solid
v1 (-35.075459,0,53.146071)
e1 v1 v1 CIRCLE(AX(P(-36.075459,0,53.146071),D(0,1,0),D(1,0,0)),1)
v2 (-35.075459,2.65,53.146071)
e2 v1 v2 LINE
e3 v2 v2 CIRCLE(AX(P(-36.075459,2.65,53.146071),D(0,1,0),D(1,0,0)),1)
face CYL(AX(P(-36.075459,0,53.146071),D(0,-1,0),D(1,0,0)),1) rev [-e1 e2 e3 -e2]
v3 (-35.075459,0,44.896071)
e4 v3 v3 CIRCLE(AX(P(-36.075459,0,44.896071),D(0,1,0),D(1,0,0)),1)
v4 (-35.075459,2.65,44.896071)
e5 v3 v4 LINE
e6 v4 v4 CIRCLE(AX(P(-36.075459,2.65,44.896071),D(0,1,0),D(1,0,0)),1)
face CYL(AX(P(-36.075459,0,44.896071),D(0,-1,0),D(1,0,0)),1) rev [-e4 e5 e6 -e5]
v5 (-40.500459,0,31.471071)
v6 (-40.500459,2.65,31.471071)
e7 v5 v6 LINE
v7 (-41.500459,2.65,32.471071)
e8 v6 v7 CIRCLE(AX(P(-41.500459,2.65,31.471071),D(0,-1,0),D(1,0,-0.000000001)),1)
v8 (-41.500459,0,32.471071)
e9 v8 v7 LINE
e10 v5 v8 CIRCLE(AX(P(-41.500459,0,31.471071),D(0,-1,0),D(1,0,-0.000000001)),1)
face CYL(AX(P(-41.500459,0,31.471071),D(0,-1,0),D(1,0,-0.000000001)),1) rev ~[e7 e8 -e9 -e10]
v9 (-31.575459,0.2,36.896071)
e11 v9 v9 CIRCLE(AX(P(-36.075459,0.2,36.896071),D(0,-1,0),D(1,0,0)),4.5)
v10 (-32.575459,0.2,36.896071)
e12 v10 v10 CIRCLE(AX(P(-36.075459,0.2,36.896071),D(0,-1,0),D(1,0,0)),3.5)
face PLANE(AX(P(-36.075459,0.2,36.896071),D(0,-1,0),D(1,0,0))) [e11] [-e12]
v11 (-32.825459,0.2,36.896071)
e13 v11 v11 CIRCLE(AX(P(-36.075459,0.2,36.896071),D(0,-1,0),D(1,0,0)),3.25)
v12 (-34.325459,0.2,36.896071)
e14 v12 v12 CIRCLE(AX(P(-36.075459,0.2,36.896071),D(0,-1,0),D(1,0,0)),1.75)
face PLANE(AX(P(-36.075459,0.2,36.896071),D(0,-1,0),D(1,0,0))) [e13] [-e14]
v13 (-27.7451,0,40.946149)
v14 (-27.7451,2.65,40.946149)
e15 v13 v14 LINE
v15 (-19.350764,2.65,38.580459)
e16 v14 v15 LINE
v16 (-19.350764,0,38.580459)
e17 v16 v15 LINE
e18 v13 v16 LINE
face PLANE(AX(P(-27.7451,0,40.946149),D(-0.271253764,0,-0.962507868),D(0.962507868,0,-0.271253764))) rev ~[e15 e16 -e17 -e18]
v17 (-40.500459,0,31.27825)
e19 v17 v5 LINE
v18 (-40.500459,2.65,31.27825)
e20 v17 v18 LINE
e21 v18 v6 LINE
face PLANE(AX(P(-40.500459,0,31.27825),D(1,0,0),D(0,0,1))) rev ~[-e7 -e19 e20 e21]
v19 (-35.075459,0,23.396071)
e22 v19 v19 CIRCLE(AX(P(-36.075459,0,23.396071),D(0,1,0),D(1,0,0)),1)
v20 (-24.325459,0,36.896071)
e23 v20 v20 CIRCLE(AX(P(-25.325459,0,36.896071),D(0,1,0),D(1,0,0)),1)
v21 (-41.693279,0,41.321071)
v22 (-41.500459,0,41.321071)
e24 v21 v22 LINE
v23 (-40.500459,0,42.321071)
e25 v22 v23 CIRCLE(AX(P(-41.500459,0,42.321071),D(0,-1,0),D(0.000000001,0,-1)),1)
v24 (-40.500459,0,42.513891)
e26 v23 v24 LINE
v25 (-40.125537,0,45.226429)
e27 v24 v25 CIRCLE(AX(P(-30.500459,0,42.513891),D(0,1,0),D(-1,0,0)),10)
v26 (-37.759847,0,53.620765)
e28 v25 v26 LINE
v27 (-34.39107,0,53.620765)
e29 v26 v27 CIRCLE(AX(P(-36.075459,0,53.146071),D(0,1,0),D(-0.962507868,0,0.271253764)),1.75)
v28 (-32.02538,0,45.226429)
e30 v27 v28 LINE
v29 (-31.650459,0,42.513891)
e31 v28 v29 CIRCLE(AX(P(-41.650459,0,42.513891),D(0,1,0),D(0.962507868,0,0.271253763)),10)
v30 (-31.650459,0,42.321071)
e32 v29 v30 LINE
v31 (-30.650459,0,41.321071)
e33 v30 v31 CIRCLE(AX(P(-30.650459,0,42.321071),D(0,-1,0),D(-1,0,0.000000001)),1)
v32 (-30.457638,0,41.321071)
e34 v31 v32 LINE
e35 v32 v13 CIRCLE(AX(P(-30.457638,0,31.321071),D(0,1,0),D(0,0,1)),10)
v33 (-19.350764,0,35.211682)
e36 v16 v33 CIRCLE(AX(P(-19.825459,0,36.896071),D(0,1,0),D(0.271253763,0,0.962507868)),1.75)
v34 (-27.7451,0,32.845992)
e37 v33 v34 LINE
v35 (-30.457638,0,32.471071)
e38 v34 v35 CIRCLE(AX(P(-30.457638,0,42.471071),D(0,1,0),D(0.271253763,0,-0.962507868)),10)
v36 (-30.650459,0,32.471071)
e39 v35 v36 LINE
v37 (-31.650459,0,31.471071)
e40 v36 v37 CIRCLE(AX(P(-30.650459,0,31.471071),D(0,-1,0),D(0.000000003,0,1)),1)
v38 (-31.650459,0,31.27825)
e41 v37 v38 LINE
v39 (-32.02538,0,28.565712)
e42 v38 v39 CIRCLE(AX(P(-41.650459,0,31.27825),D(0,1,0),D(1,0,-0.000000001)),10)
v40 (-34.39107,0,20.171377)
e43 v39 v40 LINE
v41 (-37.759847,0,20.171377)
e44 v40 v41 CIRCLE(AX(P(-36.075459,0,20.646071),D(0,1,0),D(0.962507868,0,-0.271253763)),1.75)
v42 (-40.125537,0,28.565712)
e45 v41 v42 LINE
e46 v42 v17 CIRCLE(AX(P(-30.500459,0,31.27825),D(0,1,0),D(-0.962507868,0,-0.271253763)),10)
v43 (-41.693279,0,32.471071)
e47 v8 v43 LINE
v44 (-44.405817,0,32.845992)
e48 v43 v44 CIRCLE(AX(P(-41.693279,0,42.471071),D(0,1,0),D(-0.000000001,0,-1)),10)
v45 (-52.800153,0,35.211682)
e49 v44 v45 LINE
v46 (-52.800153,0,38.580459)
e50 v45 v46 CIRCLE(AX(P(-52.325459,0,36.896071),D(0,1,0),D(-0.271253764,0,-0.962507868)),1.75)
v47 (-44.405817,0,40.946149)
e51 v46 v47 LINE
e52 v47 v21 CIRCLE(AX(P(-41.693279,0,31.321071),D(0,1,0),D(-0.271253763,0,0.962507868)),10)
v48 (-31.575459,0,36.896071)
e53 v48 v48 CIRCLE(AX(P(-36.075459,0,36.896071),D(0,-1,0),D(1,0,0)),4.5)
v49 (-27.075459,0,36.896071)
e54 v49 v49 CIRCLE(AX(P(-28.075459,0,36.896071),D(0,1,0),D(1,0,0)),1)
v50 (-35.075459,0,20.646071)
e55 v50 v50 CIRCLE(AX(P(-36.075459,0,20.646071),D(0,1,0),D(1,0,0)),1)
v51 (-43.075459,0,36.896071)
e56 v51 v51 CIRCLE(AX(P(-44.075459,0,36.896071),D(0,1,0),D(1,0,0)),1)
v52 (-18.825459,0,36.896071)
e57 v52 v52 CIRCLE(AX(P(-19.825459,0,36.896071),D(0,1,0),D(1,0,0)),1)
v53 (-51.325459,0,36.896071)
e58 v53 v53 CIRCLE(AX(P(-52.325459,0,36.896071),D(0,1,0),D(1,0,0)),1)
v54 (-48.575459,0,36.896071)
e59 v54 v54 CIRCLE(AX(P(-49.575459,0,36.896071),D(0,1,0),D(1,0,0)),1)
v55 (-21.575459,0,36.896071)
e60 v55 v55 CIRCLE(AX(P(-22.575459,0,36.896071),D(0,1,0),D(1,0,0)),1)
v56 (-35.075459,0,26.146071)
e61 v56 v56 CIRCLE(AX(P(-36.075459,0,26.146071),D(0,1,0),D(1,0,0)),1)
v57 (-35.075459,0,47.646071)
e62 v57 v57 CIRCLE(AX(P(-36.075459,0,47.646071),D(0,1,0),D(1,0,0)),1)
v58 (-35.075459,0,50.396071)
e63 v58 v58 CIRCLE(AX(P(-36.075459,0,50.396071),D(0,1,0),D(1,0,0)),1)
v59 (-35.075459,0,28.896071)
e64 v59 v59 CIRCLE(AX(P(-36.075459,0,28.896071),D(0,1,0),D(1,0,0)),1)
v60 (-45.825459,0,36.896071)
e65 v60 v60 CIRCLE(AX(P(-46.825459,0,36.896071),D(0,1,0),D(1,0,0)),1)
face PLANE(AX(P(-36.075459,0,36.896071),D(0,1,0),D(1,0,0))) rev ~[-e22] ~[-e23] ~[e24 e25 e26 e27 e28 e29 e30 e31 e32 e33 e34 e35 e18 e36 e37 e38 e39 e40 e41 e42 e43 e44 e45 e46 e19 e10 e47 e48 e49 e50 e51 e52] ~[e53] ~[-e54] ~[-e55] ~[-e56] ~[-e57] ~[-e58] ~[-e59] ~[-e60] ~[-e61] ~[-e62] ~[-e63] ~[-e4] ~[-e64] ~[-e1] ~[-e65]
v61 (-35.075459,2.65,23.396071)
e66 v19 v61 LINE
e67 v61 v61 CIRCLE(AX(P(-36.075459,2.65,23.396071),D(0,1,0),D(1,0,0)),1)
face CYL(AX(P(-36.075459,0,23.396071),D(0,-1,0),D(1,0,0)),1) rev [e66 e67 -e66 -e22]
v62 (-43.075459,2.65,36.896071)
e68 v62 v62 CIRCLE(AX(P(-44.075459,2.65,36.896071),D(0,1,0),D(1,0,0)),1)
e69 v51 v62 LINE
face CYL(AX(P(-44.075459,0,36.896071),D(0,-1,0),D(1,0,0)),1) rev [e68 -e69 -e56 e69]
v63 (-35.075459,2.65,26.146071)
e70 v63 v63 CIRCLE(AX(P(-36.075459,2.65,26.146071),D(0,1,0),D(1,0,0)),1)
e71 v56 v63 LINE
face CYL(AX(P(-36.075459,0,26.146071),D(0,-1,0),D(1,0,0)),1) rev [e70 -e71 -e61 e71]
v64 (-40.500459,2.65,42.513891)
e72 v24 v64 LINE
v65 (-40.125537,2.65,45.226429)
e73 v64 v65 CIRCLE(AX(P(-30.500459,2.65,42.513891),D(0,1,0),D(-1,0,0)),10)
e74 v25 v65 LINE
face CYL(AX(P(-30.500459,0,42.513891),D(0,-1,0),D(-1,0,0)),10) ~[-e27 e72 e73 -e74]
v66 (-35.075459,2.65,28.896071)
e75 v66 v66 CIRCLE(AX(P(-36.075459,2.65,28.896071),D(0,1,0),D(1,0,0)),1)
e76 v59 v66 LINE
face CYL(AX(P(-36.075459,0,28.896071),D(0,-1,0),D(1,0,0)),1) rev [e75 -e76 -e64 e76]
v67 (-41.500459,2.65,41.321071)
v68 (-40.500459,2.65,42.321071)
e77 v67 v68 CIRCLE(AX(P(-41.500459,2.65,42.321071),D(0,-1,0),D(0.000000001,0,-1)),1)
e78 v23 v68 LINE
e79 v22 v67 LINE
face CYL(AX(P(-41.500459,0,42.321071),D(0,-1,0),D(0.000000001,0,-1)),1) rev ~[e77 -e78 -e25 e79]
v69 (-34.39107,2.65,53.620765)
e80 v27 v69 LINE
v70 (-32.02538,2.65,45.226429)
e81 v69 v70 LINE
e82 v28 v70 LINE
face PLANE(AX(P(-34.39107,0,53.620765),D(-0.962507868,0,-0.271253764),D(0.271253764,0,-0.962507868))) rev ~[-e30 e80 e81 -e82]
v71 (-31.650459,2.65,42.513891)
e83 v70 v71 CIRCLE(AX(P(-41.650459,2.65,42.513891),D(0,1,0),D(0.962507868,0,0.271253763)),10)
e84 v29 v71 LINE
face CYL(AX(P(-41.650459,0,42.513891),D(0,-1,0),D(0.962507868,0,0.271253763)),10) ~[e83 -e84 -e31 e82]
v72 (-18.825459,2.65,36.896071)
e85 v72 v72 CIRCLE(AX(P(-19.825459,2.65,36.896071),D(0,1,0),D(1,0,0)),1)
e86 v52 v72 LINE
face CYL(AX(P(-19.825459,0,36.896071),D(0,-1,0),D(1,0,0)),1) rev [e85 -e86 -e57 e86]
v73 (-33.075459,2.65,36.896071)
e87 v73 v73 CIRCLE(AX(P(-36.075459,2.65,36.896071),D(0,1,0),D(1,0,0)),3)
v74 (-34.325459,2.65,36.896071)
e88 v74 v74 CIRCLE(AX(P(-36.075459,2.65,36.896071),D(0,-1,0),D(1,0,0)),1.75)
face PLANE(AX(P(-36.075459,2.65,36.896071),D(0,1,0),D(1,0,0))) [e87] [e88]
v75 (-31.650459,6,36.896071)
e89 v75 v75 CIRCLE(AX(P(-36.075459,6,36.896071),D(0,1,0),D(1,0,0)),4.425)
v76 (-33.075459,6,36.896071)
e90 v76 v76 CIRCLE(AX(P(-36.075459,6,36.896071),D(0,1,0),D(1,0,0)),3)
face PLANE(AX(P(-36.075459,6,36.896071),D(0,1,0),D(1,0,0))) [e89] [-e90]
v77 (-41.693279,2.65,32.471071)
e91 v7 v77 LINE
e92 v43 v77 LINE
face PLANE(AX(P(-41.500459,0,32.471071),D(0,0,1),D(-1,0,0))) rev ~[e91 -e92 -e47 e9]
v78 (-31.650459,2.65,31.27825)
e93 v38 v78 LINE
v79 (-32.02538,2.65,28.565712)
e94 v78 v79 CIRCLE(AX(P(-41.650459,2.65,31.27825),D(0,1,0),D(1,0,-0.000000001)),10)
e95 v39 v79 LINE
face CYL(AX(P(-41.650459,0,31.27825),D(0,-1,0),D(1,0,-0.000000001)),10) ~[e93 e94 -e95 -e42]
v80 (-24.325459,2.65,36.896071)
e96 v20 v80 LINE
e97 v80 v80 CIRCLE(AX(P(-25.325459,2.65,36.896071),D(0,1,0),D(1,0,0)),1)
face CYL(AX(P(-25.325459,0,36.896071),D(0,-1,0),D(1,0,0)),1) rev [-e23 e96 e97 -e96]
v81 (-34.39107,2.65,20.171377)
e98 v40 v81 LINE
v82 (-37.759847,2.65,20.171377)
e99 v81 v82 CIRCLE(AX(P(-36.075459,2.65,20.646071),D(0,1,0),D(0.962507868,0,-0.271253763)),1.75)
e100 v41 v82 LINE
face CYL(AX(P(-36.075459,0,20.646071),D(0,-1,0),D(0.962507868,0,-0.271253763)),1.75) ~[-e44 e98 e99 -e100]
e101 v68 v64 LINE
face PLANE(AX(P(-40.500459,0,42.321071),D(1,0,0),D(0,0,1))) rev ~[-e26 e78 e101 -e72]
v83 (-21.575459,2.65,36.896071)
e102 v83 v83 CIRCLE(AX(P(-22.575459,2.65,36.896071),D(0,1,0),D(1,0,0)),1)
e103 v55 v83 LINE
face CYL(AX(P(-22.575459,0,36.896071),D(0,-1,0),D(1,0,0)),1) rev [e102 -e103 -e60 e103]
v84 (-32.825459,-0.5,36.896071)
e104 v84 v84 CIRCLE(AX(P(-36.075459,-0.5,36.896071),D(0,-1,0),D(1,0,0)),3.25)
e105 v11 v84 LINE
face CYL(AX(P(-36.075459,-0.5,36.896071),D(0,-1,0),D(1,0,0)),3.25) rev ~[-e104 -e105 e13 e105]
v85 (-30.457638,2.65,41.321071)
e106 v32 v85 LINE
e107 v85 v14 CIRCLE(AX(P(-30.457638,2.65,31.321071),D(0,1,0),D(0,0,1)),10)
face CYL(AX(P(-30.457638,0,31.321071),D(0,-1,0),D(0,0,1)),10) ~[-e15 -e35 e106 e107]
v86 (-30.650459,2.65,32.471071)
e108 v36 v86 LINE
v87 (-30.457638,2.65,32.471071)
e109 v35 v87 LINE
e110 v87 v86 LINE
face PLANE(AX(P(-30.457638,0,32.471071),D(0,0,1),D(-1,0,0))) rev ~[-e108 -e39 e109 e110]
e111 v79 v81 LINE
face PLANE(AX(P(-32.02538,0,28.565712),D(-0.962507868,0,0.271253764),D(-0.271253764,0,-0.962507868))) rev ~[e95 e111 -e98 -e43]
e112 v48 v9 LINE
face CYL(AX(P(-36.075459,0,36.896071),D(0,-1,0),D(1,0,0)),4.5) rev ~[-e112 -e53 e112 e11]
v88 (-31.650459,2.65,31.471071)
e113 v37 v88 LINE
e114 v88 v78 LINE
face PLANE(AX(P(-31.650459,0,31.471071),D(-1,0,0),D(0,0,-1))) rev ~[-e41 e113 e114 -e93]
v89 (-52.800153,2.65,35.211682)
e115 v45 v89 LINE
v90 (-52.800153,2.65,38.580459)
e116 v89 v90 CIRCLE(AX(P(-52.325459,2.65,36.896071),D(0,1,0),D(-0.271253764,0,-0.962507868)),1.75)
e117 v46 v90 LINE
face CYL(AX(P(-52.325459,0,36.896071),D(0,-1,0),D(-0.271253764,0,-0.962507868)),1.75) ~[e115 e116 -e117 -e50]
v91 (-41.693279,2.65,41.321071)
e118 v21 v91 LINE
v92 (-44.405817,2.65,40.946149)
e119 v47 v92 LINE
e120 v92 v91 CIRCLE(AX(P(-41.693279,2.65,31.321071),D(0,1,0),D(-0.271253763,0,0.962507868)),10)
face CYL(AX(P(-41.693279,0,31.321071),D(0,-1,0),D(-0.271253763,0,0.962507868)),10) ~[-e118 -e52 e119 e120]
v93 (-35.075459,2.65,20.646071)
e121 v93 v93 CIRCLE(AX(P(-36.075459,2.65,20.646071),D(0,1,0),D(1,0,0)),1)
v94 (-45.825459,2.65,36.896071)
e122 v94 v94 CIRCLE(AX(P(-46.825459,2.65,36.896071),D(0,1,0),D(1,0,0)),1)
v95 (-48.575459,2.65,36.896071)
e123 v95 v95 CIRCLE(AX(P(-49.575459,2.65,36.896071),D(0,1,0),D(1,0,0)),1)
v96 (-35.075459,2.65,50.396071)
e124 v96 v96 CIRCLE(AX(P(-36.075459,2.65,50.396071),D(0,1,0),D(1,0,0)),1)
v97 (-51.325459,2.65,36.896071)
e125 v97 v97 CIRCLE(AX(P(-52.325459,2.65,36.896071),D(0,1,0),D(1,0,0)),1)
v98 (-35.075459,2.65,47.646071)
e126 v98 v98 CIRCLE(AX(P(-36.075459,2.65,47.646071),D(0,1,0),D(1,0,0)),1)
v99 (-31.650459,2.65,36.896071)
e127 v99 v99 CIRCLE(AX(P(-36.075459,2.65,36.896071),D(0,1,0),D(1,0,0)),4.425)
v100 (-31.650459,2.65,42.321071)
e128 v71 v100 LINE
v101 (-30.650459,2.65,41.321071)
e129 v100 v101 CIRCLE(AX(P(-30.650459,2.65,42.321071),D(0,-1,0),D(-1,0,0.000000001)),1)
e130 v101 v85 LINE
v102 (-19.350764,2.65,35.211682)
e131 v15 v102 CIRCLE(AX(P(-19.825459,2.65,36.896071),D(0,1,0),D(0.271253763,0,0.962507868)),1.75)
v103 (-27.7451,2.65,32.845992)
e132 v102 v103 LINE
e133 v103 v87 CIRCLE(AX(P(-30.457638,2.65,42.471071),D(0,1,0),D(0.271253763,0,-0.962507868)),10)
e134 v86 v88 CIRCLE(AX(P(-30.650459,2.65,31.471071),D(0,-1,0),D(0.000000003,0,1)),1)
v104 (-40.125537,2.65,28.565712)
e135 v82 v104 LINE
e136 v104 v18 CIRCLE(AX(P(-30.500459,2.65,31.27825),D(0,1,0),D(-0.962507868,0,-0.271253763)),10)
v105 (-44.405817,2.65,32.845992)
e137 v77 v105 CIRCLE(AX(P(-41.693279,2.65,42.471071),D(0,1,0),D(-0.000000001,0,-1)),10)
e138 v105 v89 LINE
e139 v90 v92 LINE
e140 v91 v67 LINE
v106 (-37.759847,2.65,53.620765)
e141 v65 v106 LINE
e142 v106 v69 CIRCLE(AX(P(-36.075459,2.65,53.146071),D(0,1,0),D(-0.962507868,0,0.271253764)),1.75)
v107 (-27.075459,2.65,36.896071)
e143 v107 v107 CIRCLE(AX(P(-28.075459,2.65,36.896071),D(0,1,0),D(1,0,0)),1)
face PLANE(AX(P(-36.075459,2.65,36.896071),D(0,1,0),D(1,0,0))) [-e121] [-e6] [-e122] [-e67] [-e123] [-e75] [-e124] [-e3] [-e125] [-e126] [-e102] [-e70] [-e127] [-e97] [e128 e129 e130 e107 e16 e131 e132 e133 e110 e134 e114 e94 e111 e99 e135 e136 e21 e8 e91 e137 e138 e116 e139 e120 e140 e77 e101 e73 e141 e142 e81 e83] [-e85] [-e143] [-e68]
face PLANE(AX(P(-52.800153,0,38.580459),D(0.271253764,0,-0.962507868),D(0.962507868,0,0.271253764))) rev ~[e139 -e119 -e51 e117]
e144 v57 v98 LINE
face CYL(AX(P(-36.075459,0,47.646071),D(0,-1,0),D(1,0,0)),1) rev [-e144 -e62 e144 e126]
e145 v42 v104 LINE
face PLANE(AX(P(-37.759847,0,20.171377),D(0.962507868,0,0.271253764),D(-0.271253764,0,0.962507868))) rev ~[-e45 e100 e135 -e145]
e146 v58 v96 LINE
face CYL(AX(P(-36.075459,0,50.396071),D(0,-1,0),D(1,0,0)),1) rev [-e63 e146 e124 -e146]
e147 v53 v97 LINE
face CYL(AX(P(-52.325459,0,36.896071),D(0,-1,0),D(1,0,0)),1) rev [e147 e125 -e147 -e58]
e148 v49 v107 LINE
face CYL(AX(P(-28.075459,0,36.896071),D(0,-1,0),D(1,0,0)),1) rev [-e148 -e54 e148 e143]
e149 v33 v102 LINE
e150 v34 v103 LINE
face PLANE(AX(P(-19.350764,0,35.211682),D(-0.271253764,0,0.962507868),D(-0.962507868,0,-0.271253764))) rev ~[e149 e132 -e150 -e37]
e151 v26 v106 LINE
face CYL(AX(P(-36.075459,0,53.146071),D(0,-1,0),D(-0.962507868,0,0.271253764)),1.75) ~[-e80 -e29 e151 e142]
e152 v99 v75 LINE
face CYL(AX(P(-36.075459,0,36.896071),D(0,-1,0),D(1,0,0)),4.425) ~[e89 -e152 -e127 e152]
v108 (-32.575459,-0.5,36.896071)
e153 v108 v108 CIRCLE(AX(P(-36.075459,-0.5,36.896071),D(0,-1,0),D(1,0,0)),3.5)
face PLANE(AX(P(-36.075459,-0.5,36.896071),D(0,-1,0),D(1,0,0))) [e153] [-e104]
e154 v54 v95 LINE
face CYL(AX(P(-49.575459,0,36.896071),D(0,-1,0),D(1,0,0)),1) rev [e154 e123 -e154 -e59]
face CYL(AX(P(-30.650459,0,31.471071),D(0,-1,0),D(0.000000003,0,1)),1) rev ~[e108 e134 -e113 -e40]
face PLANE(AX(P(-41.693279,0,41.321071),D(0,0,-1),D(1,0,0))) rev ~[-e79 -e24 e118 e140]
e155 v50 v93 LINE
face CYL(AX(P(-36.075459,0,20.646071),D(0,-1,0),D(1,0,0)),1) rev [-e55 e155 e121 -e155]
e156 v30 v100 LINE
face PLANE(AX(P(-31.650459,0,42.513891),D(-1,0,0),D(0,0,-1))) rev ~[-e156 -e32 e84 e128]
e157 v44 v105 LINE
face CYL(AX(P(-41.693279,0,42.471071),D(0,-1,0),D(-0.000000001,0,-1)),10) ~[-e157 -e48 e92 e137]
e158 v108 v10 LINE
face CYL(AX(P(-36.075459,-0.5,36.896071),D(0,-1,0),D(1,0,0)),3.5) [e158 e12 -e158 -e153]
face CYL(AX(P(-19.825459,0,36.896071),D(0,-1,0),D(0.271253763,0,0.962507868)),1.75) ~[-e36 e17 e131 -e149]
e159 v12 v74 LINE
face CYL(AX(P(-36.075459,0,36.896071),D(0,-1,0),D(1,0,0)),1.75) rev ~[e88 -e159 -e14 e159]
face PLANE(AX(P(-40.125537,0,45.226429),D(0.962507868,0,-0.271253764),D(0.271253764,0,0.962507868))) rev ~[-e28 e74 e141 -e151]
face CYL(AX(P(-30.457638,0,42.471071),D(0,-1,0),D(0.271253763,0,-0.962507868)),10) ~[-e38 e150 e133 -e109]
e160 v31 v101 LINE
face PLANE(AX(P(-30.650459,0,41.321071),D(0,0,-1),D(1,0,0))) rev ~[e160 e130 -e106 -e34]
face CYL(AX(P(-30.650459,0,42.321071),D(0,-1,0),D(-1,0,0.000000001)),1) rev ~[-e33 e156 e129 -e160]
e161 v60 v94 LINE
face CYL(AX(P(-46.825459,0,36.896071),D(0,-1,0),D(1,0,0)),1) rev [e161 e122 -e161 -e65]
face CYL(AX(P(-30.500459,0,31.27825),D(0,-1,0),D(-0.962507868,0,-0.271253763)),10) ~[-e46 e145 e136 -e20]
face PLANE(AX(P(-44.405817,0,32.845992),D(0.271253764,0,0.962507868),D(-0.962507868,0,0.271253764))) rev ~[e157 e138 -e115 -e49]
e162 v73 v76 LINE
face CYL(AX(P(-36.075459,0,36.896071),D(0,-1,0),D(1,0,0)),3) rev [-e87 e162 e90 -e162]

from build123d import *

# Parameters (mm, degrees)
SKETCH1_R             = 1
SKETCH1_R_2           = 4.425
BOSS_EXTRUDE1_DEPTH   = 2.65
SKETCH1_R_3           = 3
BOSS_EXTRUDE1_2_DEPTH = 2.65
SKETCH1_4_R           = 4.425
SKETCH1_4_R_2         = 3
BOSS_EXTRUDE2_DEPTH   = 6
SKETCH2_R             = 4.5
SKETCH2_R_2           = 3.5
SKETCH2_R_3           = 3.25
SKETCH2_R_4           = 1.75
CUT_EXTRUDE1_DEPTH    = 0.2
BOSS_EXTRUDE3_START   = 0.5
SKETCH2_4_R           = 3.5
SKETCH2_4_R_2         = 3.25
BOSS_EXTRUDE3_DEPTH   = 0.5
CUT_EXTRUDE2_REACH    = 79.29
SKETCH2_5_R           = 1.75


with BuildPart() as part:
    # Sketch1 → Boss-Extrude1 (new body)
    with BuildSketch(Plane(origin=(0, 0, 0), x_dir=(1, 0, 0), z_dir=(0, 1, 0))):
        with BuildLine():
            ThreePointArc((-27.745100171, -32.845991913), (-29.088475069, -32.565244357), (-30.457637809, -32.471070591))
            Line((-30.457637809, -32.471070591), (-30.650458566, -32.471070591))
            ThreePointArc((-30.650458566, -32.471070591), (-31.357565348, -32.178177373), (-31.650458566, -31.471070591))
            Line((-31.650458566, -31.471070591), (-31.650458566, -31.278249834))
            ThreePointArc((-31.650458566, -31.278249834), (-31.744632332, -29.909087094), (-32.025379888, -28.565712196))
            Line((-32.025379888, -28.565712196), (-34.391069798, -20.171376505))
            ThreePointArc((-34.391069798, -20.171376505), (-36.075458566, -18.896070591), (-37.759847335, -20.171376505))
            Line((-37.759847335, -20.171376505), (-40.125537245, -28.565712196))
            ThreePointArc((-40.125537245, -28.565712196), (-40.406284801, -29.909087094), (-40.500458566, -31.278249834))
            Line((-40.500458566, -31.278249834), (-40.500458566, -31.471070591))
            ThreePointArc((-40.500458566, -31.471070591), (-40.793351785, -32.178177373), (-41.500458566, -32.471070591))
            Line((-41.500458566, -32.471070591), (-41.693279324, -32.471070591))
            ThreePointArc((-41.693279324, -32.471070591), (-43.062442064, -32.565244357), (-44.405816962, -32.845991913))
            Line((-44.405816962, -32.845991913), (-52.800152653, -35.211681823))
            ThreePointArc((-52.800152653, -35.211681823), (-54.075458566, -36.896070591), (-52.800152653, -38.58045936))
            Line((-52.800152653, -38.58045936), (-44.405816962, -40.94614927))
            ThreePointArc((-44.405816962, -40.94614927), (-43.062442064, -41.226896826), (-41.693279324, -41.321070591))
            Line((-41.693279324, -41.321070591), (-41.500458566, -41.321070591))
            ThreePointArc((-41.500458566, -41.321070591), (-40.793351785, -41.61396381), (-40.500458566, -42.321070591))
            Line((-40.500458566, -42.321070591), (-40.500458566, -42.513891349))
            ThreePointArc((-40.500458566, -42.513891349), (-40.406284801, -43.883054089), (-40.125537245, -45.226428987))
            Line((-40.125537245, -45.226428987), (-37.759847335, -53.620764678))
            ThreePointArc((-37.759847335, -53.620764678), (-36.075458566, -54.896070591), (-34.391069798, -53.620764678))
            Line((-34.391069798, -53.620764678), (-32.025379888, -45.226428987))
            ThreePointArc((-32.025379888, -45.226428987), (-31.744632332, -43.883054089), (-31.650458566, -42.513891349))
            Line((-31.650458566, -42.513891349), (-31.650458566, -42.321070591))
            ThreePointArc((-31.650458566, -42.321070591), (-31.357565348, -41.61396381), (-30.650458566, -41.321070591))
            Line((-30.650458566, -41.321070591), (-30.457637809, -41.321070591))
            ThreePointArc((-30.457637809, -41.321070591), (-29.088475069, -41.226896826), (-27.745100171, -40.94614927))
            Line((-27.745100171, -40.94614927), (-19.35076448, -38.58045936))
            ThreePointArc((-19.35076448, -38.58045936), (-18.075458566, -36.896070591), (-19.35076448, -35.211681823))
            Line((-19.35076448, -35.211681823), (-27.745100171, -32.845991913))
        make_face()
        with Locations((-52.325458566, -36.896070591)):
            Circle(SKETCH1_R, mode=Mode.SUBTRACT)
        with Locations((-49.575458566, -36.896070591)):
            Circle(SKETCH1_R, mode=Mode.SUBTRACT)
        with Locations((-46.825458566, -36.896070591)):
            Circle(SKETCH1_R, mode=Mode.SUBTRACT)
        with Locations((-44.075458566, -36.896070591)):
            Circle(SKETCH1_R, mode=Mode.SUBTRACT)
        with Locations((-36.075458566, -53.146070591)):
            Circle(SKETCH1_R, mode=Mode.SUBTRACT)
        with Locations((-36.075458566, -50.396070591)):
            Circle(SKETCH1_R, mode=Mode.SUBTRACT)
        with Locations((-36.075458566, -47.646070591)):
            Circle(SKETCH1_R, mode=Mode.SUBTRACT)
        with Locations((-36.075458566, -44.896070591)):
            Circle(SKETCH1_R, mode=Mode.SUBTRACT)
        with Locations((-36.075458566, -36.896070591)):
            Circle(SKETCH1_R_2, mode=Mode.SUBTRACT)
        with Locations((-28.075458566, -36.896070591)):
            Circle(SKETCH1_R, mode=Mode.SUBTRACT)
        with Locations((-25.325458566, -36.896070591)):
            Circle(SKETCH1_R, mode=Mode.SUBTRACT)
        with Locations((-22.575458566, -36.896070591)):
            Circle(SKETCH1_R, mode=Mode.SUBTRACT)
        with Locations((-19.825458566, -36.896070591)):
            Circle(SKETCH1_R, mode=Mode.SUBTRACT)
        with Locations((-36.075458566, -28.896070591)):
            Circle(SKETCH1_R, mode=Mode.SUBTRACT)
        with Locations((-36.075458566, -26.146070591)):
            Circle(SKETCH1_R, mode=Mode.SUBTRACT)
        with Locations((-36.075458566, -23.396070591)):
            Circle(SKETCH1_R, mode=Mode.SUBTRACT)
        with Locations((-36.075458566, -20.646070591)):
            Circle(SKETCH1_R, mode=Mode.SUBTRACT)
    extrude(amount=BOSS_EXTRUDE1_DEPTH)

    # Sketch1<4> → Boss-Extrude2 (add)
    with BuildSketch(Plane(origin=(0, 0, 0), x_dir=(1, 0, 0), z_dir=(0, 1, 0))):
        with Locations((-36.075458566, -36.896070591)):
            Circle(SKETCH1_4_R)
        with Locations((-36.075458566, -36.896070591)):
            Circle(SKETCH1_4_R_2, mode=Mode.SUBTRACT)
    extrude(amount=BOSS_EXTRUDE2_DEPTH)


with BuildPart() as body_2:
    # Sketch1 → Boss-Extrude1 2 (new body)
    with BuildSketch(Plane(origin=(0, 0, 0), x_dir=(1, 0, 0), z_dir=(0, 1, 0))):
        with Locations((-36.075458566, -36.896070591)):
            Circle(SKETCH1_R_3)
    extrude(amount=BOSS_EXTRUDE1_2_DEPTH)


with BuildPart() as cut_extrude1_tool:
    # Sketch2 → Cut-Extrude1 (new body)
    # profile 1 of 2: a face of its own
    with BuildSketch(Plane.XZ):
        with Locations((-36.075458566, 36.896070591)):
            Circle(SKETCH2_R)
        with Locations((-36.075458566, 36.896070591)):
            Circle(SKETCH2_R_2, mode=Mode.SUBTRACT)
    # profile 2 of 2: a face of its own
    with BuildSketch(Plane.XZ):
        with Locations((-36.075458566, 36.896070591)):
            Circle(SKETCH2_R_3)
        with Locations((-36.075458566, 36.896070591)):
            Circle(SKETCH2_R_4, mode=Mode.SUBTRACT)
    extrude(amount=-CUT_EXTRUDE1_DEPTH)


with BuildPart() as part_1:
    add(part.part)

    # Cut-Extrude1: cut by cut_extrude1_tool
    add(cut_extrude1_tool.part, mode=Mode.SUBTRACT)



with BuildPart() as body_2_1:
    add(body_2.part)

    # Cut-Extrude1: cut by cut_extrude1_tool
    add(cut_extrude1_tool.part, mode=Mode.SUBTRACT)


with BuildPart() as part_2:
    add(part_1.part)

    add(body_2_1.part)  # Boss-Extrude3 merges body 2
    # Sketch2<4> → Boss-Extrude3 (add)
    with BuildSketch(Plane.XZ.offset(BOSS_EXTRUDE3_START)):
        with Locations((-36.075458566, 36.896070591)):
            Circle(SKETCH2_4_R)
        with Locations((-36.075458566, 36.896070591)):
            Circle(SKETCH2_4_R_2, mode=Mode.SUBTRACT)
    extrude(amount=-BOSS_EXTRUDE3_DEPTH)

    # Sketch2<5> → Cut-Extrude2 (cut, up to next)
    with BuildSketch(Plane.XZ, mode=Mode.PRIVATE) as cut_extrude2_sk1:
        with Locations((-36.075458566, 36.896070591)):
            Circle(SKETCH2_5_R)
    cut_extrude2_tool1 = extrude(cut_extrude2_sk1.sketch, amount=-CUT_EXTRUDE2_REACH, mode=Mode.PRIVATE) & part_2.part
    add(cut_extrude2_tool1.solids().sort_by_distance((-36.075459, 0, 36.896071))[0], mode=Mode.SUBTRACT)


solid = part_2.part
